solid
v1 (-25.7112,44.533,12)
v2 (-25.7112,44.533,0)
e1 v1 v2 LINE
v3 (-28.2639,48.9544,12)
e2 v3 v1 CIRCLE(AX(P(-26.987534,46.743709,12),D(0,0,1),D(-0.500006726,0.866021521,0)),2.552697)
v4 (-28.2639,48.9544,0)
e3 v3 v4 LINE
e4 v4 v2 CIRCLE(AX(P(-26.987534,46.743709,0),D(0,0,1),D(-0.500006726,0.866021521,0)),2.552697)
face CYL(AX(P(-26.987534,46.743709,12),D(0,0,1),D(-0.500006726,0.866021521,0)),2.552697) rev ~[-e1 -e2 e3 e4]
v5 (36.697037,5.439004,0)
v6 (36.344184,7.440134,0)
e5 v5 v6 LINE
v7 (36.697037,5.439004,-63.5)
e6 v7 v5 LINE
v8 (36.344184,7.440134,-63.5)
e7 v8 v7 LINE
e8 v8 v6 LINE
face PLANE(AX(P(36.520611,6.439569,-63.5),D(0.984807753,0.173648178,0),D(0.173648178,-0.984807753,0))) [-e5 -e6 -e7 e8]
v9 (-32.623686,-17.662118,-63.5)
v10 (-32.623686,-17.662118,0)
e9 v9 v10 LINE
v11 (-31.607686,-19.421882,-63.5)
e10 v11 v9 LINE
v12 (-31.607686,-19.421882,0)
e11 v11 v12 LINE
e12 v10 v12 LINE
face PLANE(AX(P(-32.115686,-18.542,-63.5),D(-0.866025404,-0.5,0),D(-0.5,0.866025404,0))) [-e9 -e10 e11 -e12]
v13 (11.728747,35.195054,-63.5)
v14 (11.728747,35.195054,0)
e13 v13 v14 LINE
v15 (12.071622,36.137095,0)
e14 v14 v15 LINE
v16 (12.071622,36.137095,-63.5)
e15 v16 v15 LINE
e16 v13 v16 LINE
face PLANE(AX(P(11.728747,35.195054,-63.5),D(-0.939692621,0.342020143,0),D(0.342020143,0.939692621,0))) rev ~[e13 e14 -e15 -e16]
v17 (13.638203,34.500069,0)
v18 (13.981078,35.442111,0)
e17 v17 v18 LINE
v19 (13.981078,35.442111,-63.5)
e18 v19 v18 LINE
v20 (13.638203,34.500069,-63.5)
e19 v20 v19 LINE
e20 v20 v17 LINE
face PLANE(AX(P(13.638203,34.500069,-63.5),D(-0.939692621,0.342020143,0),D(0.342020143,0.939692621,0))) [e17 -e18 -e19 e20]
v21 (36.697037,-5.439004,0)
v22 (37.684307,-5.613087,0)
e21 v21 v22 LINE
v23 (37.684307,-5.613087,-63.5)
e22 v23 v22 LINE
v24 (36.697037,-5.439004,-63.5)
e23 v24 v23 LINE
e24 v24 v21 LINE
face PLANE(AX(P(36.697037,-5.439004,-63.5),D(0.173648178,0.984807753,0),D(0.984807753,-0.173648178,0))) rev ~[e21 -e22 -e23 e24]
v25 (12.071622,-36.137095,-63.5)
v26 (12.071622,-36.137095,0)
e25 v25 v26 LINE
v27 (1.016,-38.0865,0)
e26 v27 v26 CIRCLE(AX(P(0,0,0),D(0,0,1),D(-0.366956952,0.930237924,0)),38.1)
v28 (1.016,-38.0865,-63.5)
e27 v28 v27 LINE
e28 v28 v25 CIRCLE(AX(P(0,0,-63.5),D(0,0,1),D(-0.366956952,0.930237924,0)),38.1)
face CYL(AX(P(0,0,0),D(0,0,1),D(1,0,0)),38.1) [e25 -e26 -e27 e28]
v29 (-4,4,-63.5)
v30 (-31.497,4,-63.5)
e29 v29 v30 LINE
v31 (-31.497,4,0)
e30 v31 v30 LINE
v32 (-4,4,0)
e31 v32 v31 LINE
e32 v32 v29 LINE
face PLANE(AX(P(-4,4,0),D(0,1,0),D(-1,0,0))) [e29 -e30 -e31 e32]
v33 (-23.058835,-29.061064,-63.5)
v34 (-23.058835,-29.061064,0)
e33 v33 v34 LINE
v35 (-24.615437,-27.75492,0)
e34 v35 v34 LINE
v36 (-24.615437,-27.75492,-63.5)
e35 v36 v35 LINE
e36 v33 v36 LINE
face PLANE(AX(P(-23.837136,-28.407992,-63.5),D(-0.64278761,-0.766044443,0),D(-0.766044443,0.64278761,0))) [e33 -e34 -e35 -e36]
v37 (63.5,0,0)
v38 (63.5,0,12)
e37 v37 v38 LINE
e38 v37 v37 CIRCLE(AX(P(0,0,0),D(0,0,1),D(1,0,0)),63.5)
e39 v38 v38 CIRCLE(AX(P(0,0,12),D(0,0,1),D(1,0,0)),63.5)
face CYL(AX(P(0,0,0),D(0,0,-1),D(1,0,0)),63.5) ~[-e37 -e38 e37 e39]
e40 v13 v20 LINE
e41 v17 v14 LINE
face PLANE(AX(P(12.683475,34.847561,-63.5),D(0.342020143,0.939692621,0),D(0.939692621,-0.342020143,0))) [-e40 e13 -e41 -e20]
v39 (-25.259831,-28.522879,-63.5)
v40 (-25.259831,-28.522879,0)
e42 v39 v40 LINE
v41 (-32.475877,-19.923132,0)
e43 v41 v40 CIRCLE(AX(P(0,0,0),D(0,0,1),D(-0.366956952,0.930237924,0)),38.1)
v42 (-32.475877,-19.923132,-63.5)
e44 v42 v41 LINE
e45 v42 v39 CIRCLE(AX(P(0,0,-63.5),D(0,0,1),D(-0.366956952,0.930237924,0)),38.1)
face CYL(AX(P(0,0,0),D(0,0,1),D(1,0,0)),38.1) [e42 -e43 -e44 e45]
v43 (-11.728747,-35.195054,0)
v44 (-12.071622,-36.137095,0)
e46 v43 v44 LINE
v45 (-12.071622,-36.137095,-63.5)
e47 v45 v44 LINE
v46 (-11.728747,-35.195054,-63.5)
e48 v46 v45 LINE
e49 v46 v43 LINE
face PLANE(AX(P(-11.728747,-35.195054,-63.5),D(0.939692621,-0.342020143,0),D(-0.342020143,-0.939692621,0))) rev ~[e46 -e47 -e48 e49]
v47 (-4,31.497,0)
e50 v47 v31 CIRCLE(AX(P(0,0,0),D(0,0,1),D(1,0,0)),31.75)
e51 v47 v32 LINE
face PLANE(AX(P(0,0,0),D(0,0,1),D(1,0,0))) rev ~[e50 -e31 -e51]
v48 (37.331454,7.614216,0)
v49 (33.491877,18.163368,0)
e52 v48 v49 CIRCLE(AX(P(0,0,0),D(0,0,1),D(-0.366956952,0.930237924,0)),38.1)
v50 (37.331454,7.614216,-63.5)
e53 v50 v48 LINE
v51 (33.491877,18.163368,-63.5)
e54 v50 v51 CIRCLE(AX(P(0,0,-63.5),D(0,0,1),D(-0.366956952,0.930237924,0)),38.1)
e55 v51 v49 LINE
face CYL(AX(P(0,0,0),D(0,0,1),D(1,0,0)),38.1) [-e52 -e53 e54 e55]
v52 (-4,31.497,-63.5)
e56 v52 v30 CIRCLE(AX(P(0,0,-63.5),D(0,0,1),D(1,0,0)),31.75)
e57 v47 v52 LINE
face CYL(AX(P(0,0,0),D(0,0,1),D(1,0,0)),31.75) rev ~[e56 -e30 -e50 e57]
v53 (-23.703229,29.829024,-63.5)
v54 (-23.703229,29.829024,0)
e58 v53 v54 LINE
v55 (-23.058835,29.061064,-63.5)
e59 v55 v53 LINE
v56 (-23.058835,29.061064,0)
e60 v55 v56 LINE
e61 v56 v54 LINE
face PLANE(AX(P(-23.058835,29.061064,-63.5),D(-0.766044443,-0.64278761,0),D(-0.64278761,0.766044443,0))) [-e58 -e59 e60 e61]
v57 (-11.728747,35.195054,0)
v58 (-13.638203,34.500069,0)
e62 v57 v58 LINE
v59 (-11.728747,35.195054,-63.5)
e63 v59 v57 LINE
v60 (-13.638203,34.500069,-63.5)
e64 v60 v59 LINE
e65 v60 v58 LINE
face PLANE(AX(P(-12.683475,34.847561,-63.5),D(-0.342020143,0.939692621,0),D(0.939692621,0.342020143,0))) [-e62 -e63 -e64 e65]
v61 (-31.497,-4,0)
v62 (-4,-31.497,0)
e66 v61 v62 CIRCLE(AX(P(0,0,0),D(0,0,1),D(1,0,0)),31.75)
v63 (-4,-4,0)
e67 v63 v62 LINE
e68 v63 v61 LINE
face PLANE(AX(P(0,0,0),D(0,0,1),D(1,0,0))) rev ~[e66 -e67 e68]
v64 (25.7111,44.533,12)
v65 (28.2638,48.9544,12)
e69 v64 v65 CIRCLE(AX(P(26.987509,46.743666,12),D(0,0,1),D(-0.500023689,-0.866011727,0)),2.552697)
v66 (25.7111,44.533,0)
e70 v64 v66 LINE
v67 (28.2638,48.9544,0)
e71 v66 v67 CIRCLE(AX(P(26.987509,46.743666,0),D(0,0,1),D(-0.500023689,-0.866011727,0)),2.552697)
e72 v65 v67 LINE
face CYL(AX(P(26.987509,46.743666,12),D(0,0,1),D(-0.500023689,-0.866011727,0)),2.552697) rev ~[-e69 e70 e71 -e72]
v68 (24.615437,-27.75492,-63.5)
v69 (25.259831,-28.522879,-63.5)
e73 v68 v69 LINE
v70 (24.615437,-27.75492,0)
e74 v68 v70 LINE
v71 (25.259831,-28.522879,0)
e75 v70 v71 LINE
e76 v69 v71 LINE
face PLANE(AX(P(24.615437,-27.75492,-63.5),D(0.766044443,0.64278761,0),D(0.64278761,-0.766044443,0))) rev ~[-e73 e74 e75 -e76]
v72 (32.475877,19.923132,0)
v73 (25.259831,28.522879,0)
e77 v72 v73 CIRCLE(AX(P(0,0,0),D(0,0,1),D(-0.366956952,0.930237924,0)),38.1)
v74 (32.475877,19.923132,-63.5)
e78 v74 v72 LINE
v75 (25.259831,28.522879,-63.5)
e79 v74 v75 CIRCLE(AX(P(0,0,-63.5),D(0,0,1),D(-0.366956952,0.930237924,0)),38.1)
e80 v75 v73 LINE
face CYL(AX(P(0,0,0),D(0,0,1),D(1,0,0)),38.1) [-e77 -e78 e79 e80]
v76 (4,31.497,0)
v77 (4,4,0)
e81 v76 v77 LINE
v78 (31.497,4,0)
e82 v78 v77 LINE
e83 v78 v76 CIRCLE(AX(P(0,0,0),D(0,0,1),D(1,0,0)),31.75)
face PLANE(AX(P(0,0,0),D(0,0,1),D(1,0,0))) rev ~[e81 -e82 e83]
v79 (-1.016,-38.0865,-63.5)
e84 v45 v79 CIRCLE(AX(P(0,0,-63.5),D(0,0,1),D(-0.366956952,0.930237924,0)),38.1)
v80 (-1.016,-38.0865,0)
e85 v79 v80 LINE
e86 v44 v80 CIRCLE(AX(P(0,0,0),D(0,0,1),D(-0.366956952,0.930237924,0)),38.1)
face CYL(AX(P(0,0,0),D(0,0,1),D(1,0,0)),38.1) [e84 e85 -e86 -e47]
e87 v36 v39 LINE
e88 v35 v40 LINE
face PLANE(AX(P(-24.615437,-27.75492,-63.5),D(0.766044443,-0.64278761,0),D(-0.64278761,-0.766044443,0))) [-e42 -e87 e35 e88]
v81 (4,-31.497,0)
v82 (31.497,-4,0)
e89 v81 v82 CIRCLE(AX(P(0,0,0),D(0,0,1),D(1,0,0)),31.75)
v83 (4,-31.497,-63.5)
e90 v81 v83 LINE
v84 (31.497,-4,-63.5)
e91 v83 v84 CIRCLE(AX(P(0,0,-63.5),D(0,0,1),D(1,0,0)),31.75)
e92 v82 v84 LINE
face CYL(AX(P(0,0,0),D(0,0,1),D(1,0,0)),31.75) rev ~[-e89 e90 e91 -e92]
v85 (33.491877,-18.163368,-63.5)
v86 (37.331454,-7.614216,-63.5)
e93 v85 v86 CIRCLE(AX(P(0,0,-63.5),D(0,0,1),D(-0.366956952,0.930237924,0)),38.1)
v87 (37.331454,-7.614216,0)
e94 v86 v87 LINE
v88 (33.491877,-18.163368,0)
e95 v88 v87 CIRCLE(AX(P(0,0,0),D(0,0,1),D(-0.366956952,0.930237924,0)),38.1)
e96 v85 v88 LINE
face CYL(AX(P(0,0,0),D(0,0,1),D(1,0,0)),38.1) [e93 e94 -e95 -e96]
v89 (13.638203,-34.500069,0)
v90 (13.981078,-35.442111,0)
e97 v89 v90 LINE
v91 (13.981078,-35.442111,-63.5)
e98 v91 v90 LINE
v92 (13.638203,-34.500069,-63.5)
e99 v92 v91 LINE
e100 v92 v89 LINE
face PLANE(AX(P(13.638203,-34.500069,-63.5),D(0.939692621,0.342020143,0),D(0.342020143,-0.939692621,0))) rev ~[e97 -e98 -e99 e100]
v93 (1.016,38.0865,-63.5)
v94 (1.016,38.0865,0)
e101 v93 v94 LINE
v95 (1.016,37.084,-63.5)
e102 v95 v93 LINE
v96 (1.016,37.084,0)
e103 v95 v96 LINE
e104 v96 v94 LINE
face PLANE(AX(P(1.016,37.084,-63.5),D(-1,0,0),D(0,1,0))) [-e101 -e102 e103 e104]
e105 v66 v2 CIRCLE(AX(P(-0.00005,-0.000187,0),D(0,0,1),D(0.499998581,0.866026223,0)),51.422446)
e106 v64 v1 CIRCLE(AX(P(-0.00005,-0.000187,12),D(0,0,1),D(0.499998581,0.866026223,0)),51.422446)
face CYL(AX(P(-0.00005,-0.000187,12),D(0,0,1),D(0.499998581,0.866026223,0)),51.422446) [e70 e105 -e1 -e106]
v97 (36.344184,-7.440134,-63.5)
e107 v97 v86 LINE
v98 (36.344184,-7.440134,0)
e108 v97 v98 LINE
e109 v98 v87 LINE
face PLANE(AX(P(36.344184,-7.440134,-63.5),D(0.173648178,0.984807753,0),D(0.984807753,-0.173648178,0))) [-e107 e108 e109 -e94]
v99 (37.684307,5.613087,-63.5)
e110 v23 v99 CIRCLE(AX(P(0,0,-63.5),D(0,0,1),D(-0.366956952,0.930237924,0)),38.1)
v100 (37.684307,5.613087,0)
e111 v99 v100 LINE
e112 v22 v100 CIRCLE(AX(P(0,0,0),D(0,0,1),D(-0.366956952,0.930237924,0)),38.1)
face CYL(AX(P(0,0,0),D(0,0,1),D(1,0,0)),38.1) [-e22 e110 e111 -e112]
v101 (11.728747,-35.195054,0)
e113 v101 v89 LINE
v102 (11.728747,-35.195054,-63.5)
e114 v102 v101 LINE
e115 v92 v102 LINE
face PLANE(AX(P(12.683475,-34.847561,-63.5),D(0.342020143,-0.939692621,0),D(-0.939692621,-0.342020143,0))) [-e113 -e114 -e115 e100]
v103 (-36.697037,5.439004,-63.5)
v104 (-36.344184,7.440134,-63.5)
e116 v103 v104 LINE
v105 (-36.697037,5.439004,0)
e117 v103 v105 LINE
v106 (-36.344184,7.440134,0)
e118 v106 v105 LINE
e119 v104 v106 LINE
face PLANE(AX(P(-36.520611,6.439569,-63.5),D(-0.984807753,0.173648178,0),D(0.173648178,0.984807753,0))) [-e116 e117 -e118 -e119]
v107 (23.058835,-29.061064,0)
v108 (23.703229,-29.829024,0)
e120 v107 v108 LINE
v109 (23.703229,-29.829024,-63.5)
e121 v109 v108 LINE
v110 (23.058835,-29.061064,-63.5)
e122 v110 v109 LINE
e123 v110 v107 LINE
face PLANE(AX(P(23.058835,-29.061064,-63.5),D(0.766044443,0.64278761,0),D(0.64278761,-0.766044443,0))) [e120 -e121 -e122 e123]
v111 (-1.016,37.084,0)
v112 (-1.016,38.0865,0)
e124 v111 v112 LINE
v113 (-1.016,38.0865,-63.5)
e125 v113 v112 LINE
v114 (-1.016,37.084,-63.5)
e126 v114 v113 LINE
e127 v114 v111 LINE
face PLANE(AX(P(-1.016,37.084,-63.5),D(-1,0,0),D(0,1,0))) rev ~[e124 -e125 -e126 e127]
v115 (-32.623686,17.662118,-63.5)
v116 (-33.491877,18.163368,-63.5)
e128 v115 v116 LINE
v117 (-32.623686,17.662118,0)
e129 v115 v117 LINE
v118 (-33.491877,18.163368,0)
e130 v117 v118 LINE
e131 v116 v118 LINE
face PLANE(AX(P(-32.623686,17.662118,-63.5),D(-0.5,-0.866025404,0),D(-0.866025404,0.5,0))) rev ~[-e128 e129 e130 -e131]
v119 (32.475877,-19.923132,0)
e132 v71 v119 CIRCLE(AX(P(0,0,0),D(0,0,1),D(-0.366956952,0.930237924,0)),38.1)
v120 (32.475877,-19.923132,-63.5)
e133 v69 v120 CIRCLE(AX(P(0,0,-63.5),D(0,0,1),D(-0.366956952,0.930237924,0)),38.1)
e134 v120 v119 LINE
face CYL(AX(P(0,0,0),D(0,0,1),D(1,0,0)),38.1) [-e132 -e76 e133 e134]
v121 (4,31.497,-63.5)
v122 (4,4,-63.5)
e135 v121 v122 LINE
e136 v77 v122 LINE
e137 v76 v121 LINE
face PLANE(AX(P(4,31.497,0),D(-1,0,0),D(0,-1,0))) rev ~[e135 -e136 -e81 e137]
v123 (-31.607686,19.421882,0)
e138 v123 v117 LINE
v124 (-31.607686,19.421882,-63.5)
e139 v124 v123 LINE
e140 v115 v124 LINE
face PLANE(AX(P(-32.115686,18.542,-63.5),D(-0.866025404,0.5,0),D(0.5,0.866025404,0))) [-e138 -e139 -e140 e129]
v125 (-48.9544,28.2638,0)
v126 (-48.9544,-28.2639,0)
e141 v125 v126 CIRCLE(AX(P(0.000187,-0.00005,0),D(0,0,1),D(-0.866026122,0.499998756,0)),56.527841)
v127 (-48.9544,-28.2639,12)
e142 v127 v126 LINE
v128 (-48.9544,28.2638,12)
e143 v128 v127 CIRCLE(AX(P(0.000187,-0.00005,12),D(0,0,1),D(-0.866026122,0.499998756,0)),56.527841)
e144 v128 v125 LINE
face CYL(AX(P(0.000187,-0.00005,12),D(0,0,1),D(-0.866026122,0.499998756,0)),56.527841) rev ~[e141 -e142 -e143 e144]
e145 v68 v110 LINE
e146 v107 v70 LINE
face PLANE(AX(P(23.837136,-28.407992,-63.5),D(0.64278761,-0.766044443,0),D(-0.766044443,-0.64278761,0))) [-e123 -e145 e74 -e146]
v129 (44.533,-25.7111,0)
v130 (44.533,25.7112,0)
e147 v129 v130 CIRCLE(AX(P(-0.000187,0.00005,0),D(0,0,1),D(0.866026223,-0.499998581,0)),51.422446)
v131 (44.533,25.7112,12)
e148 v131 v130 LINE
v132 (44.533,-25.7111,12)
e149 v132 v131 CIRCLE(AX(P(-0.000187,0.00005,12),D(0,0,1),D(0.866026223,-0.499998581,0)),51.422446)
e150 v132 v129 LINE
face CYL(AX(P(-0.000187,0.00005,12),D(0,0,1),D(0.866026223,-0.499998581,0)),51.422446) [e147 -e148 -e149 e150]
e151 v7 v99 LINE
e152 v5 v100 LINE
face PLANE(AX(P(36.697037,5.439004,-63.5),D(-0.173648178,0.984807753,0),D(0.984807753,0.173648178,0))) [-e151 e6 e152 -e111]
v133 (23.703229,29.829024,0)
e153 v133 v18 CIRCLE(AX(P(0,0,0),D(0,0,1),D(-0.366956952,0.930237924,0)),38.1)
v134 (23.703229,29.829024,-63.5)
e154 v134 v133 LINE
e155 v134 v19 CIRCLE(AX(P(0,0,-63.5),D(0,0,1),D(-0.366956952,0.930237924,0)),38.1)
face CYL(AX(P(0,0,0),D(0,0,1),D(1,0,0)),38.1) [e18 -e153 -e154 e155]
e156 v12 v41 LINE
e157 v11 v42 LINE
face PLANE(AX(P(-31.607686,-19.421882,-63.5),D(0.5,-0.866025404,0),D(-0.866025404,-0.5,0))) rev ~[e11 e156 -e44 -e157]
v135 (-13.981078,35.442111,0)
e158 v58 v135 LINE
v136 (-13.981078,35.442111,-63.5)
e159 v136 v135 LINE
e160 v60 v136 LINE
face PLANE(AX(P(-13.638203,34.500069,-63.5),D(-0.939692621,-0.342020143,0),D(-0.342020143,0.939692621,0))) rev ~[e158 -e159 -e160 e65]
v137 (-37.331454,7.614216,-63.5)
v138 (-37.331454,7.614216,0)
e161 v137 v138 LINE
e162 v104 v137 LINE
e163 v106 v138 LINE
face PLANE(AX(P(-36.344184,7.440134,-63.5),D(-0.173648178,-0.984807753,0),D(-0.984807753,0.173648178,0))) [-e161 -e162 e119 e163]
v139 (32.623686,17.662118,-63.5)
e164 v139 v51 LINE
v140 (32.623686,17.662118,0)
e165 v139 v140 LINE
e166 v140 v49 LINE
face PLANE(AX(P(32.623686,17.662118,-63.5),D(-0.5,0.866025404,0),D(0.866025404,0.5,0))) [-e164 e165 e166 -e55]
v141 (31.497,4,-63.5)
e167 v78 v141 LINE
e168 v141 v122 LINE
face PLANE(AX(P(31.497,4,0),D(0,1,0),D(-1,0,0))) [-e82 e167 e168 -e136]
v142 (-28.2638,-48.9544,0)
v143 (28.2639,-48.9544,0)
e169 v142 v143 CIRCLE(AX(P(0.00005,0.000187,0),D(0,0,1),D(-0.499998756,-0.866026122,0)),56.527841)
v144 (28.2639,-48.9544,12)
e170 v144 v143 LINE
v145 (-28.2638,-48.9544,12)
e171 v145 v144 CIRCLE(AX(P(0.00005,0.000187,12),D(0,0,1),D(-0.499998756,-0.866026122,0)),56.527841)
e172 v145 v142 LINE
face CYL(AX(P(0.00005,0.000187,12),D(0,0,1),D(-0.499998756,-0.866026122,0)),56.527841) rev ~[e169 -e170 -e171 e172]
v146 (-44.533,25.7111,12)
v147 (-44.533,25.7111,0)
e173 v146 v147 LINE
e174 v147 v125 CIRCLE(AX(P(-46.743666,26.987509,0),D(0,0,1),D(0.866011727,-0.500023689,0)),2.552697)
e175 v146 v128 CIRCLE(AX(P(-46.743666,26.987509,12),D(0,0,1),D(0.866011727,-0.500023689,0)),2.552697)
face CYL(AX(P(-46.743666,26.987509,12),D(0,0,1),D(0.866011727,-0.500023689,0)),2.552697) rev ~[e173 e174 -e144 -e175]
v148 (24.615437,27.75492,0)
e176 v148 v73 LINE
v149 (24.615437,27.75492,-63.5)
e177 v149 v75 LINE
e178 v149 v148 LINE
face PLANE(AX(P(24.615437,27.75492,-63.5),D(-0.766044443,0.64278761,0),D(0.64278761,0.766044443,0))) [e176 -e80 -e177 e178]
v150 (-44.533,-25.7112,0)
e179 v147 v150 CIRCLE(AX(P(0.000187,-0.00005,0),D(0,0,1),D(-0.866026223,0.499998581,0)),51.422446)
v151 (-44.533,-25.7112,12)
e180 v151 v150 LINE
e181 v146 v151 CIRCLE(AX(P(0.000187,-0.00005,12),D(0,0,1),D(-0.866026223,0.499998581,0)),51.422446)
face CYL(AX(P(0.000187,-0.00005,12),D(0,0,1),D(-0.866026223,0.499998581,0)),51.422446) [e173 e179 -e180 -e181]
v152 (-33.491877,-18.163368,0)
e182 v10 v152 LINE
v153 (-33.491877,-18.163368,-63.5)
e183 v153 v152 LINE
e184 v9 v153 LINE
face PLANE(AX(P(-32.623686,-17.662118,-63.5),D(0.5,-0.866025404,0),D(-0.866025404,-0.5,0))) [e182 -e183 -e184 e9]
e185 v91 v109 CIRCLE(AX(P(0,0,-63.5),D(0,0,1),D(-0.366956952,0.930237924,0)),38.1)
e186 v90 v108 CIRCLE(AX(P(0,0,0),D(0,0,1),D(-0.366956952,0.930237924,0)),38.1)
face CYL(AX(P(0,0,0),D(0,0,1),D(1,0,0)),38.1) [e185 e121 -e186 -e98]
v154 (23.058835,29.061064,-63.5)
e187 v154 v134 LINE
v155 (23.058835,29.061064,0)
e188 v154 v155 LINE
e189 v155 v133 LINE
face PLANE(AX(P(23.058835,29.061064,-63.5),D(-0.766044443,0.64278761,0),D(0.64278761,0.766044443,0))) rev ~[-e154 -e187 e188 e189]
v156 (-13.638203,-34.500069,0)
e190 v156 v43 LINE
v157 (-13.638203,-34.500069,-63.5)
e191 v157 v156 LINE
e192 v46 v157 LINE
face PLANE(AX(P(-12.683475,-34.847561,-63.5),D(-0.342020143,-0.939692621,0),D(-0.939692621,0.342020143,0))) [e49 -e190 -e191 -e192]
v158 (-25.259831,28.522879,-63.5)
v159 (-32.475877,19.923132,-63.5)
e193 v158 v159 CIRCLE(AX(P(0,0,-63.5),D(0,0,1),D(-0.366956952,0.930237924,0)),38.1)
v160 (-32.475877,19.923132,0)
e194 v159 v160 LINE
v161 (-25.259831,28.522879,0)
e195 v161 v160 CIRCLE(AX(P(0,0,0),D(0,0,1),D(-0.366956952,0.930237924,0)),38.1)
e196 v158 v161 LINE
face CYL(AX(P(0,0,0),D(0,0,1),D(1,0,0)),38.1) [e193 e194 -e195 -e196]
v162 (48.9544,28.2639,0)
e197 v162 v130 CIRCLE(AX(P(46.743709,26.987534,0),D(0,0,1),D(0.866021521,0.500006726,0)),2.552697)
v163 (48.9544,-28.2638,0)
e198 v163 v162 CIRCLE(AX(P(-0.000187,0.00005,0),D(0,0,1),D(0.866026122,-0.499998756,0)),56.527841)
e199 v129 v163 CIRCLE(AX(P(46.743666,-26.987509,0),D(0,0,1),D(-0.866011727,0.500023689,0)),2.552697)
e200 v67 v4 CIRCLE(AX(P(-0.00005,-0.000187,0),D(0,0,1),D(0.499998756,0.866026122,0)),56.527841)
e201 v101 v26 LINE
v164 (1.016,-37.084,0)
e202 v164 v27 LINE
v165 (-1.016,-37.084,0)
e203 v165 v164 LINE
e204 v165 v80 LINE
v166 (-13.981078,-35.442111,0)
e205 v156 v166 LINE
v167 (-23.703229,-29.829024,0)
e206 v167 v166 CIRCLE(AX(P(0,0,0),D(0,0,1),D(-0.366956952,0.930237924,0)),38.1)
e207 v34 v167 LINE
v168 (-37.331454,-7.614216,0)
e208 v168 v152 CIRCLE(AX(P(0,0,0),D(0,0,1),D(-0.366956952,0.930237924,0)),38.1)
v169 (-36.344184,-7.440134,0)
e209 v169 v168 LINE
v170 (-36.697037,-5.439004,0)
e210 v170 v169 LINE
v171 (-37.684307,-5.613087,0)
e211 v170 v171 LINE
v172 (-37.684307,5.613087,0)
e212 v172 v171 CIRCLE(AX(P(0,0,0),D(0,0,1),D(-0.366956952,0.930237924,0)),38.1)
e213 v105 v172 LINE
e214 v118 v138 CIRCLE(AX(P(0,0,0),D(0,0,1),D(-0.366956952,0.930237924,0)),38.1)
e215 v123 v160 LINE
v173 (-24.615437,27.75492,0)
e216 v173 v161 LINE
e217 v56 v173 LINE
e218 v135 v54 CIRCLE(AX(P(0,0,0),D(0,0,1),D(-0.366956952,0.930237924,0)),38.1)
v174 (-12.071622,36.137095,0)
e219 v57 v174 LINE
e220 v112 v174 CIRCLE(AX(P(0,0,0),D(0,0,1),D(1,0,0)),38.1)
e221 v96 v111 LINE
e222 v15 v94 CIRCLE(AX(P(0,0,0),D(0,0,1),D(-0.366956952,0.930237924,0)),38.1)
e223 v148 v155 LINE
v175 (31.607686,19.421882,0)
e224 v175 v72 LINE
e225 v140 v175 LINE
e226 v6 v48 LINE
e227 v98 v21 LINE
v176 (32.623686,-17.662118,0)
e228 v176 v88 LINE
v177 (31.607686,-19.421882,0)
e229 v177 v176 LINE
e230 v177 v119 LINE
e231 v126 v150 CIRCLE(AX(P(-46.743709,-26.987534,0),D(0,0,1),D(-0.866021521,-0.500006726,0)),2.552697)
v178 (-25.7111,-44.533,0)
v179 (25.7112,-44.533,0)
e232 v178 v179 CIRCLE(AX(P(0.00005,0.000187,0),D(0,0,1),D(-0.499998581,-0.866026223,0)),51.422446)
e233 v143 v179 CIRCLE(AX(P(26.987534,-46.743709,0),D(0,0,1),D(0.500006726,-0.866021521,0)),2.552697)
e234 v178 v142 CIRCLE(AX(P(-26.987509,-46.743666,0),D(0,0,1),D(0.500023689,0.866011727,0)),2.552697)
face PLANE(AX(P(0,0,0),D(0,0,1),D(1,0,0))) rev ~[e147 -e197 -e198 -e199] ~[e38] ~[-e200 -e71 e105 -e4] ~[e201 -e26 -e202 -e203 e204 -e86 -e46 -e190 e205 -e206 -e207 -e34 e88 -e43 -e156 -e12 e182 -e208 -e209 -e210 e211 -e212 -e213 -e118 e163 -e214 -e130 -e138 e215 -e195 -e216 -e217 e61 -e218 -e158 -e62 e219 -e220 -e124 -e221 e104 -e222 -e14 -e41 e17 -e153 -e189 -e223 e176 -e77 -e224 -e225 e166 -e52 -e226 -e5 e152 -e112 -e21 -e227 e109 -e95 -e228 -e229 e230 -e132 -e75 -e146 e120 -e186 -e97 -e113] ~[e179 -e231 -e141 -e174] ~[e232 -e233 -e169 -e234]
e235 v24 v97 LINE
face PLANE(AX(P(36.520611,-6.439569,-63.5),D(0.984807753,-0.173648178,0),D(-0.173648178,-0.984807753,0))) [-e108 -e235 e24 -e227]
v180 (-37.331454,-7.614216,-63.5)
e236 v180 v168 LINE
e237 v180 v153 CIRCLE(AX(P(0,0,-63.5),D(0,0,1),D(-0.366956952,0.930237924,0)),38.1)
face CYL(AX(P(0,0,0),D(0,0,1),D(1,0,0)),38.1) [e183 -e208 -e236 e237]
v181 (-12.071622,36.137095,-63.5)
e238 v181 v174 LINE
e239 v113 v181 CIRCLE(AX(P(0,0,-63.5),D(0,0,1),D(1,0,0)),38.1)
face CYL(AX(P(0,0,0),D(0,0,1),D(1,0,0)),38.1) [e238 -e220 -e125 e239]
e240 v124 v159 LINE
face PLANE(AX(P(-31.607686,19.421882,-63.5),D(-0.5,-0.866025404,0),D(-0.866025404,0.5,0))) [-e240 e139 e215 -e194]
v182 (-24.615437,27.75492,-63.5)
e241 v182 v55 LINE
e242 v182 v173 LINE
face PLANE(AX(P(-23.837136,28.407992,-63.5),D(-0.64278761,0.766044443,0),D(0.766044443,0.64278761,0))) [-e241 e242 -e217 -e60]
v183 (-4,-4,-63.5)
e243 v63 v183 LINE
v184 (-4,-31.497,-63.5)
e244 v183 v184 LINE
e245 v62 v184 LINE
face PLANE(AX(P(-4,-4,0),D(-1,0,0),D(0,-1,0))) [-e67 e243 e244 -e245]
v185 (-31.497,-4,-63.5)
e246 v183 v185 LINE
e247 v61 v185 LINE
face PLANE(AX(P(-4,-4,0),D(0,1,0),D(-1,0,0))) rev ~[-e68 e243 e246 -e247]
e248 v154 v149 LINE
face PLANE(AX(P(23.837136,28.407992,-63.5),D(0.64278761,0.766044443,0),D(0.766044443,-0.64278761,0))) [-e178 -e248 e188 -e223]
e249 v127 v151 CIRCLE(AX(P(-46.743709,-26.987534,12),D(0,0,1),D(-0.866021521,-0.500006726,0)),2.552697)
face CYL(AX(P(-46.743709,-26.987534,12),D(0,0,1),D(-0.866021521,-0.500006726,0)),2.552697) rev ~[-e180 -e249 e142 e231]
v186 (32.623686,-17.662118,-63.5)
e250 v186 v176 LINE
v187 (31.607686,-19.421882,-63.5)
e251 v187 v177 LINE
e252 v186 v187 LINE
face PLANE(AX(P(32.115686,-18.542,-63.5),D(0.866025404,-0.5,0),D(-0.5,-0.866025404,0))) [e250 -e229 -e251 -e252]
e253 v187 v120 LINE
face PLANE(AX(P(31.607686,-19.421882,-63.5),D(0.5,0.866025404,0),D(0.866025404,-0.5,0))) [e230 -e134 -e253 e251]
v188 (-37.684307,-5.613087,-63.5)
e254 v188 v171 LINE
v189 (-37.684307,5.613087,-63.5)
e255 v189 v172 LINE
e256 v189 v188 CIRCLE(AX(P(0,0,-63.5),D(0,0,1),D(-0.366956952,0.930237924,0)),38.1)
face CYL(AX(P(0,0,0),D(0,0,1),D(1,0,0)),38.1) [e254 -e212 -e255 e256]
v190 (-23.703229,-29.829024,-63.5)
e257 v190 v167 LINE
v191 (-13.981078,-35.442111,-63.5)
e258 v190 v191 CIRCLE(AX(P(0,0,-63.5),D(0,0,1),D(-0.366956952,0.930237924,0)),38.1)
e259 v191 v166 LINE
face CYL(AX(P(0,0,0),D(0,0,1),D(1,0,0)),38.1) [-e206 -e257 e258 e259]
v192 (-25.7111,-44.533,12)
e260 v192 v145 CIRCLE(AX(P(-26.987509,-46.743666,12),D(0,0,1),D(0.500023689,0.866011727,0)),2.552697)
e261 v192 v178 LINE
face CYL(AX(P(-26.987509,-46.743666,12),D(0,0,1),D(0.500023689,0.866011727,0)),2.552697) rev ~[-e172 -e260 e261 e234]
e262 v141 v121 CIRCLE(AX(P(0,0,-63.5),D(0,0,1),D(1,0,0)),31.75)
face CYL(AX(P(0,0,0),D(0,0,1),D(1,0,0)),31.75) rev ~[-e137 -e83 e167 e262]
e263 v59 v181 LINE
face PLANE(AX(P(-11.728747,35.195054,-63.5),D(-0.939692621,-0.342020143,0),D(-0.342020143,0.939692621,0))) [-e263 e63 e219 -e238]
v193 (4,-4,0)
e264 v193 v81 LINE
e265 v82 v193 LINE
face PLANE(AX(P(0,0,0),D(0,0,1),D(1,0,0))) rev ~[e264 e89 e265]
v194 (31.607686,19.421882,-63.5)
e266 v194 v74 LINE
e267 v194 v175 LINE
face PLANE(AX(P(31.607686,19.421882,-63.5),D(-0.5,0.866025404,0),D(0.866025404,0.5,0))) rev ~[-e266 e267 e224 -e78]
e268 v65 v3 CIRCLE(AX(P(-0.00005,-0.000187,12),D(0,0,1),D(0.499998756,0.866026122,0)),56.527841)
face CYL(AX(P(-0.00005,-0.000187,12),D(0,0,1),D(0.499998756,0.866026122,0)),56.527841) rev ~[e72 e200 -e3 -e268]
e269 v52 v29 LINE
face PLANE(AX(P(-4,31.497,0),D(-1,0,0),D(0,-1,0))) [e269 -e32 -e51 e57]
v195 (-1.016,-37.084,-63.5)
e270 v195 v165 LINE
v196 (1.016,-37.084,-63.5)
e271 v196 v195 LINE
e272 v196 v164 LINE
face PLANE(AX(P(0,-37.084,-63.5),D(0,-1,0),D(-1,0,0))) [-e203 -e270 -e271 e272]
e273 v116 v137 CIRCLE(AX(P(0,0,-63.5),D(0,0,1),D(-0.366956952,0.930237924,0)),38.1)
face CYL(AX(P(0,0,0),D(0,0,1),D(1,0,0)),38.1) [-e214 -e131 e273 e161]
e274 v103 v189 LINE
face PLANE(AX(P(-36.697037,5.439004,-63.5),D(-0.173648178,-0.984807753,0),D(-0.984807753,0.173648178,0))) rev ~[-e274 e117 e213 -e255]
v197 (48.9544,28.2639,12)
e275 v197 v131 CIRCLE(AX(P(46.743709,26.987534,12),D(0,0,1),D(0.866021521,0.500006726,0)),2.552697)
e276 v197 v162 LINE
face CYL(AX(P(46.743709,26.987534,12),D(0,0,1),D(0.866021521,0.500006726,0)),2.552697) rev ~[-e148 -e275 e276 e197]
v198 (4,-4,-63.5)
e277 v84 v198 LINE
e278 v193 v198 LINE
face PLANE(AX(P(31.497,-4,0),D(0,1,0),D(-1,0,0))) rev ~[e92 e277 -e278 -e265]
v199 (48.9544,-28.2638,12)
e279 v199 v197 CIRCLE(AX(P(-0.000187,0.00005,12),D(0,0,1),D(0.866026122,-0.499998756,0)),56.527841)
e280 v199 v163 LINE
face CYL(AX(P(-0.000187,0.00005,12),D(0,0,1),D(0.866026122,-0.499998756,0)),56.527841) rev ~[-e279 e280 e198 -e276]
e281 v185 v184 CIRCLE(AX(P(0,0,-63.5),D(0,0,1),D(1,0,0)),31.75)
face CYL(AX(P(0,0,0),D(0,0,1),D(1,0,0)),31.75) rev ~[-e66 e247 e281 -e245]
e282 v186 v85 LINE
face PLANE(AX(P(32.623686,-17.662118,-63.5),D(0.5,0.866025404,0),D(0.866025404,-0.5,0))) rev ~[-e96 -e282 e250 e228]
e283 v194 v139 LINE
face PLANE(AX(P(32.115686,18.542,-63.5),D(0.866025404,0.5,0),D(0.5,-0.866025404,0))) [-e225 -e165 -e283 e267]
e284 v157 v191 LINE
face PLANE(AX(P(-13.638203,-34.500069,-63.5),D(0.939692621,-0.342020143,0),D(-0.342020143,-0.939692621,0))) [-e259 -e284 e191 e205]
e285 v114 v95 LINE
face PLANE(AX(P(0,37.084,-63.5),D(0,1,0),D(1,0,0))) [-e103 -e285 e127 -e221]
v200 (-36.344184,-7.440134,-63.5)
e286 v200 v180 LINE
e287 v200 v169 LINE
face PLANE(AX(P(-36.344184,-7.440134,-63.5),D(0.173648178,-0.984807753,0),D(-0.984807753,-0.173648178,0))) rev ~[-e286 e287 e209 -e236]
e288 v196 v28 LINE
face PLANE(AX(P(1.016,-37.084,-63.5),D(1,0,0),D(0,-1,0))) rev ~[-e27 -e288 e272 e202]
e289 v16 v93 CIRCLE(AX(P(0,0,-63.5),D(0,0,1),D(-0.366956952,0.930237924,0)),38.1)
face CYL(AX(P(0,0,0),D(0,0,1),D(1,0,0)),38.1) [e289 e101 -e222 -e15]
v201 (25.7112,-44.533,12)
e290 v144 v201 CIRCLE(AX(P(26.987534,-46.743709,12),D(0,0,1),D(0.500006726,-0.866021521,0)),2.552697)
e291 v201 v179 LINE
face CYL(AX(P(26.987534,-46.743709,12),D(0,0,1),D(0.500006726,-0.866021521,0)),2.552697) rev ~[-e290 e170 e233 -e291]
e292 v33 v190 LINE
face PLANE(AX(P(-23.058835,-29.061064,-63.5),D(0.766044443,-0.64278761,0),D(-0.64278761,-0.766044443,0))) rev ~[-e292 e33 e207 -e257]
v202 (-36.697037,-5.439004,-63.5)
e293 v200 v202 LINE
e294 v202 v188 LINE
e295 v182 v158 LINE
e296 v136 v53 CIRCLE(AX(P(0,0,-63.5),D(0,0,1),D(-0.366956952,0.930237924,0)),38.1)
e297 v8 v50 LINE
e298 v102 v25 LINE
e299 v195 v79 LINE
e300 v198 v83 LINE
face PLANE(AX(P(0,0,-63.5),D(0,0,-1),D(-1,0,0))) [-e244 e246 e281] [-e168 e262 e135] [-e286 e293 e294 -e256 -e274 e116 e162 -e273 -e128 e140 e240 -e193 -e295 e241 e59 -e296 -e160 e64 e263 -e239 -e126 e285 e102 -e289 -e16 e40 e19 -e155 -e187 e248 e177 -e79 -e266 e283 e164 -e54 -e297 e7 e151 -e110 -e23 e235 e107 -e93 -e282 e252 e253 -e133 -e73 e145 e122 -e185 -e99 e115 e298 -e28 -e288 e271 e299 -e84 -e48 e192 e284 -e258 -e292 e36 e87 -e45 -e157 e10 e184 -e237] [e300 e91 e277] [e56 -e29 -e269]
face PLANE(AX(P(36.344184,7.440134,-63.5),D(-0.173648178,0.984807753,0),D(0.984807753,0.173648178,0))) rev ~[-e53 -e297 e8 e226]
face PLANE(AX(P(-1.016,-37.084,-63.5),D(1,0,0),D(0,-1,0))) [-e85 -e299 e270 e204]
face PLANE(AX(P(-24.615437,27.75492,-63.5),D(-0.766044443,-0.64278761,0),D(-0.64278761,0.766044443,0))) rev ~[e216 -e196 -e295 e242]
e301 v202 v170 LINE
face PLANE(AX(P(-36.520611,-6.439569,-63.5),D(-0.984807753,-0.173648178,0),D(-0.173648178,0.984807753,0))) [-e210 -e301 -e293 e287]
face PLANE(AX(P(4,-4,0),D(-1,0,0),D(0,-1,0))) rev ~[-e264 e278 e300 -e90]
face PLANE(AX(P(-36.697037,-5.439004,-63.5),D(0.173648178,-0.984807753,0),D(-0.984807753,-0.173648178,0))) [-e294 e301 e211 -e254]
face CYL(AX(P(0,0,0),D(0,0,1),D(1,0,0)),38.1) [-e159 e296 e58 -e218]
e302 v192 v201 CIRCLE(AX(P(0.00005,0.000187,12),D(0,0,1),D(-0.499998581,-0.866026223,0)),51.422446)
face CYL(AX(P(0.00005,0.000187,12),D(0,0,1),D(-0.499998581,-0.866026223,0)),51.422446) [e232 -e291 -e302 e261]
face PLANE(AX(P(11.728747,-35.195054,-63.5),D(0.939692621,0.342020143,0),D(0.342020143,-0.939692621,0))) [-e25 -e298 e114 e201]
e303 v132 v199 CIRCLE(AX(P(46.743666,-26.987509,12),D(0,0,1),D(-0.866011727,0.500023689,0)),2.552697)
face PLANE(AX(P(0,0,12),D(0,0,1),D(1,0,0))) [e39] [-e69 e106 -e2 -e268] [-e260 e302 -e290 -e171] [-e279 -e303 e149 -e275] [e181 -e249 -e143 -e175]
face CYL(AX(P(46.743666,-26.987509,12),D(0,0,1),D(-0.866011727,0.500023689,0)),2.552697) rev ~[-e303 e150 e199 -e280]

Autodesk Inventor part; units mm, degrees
ref_plane "YZ Plane" through (0, 0, 0) normal (1, 0, 0) x (0, 1, 0)
ref_plane "XZ Plane" through (0, 0, 0) normal (0, 1, 0) x (-1, 0, 0)
ref_plane "XY Plane" through (0, 0, 0) normal (0, 0, 1) x (1, 0, 0)
sketch "Sketch1" plane through (0, 0, 0) normal (0, 0, 1) x (1, 0, 0)
  circle A0 centre (0, 0) radius 38.1
  circle A1 centre (0, 0) radius 63.5
  circle A2 centre (0, 0) radius 31.75
  dimension "d1" = 76.2
  dimension "d7" = 6.35
  dimension "d45" = 127
extrude "Extrusion2" add sketch "Sketch1" along normal blind 12 contours A0 | A1 | A2
extrude "Extrusion3" add sketch "Sketch1" against normal blind 63.5 contours A0
sketch "Sketch6" plane through (0, 0, 12) normal (0, 0, 1) x (1, 0, 0)
  arc A0 (26.9875, 46.7437) -> (-26.9875, 46.7437) centre (0, 0) ccw construction
  arc A1 (28.2638, 48.9544) -> (-28.2639, 48.9544) centre (0, 0) ccw
  arc A2 (25.7111, 44.533) -> (-25.7112, 44.533) centre (0, 0) ccw
  arc A3 (25.7111, 44.533) -> (28.2638, 48.9544) centre (26.9875, 46.7437) ccw
  arc A4 (-28.2639, 48.9544) -> (-25.7112, 44.533) centre (-26.9875, 46.7437) ccw
  line L0 (0, 0) -> (26.9875, 46.7437) construction
  line L1 (0, 0) -> (53.975, 0) construction
  line L2 (0, 0) -> (-26.9875, 46.7437) construction
  dimension "d26" = 53.975
  dimension "d27" = 60
  dimension "d28" = 60
  dimension "d29" = 5.1054
extrude "Extrusion7" cut sketch "Sketch6" against normal through all
pattern_circular "Circular Pattern1" count 4 over 360 about axis through (0, 0, -10) along (0, 0, 1) of "Extrusion7"
sketch "Sketch8" plane through (0, 0, -63.5) normal (0, 0, -1) x (-1, 0, 0)
  circle A0 centre (0, 0) radius 38.1 projected
  arc A1 (0, 38.1) -> (-1.016, 38.0865) centre (0, 0) ccw
  line L0 (0, 0) -> (0, 38.1) construction
  line L1 (0, 38.1) -> (0, 37.084)
  line L2 (0, 37.084) -> (-1.016, 37.084)
  line L3 (-1.016, 37.084) -> (-1.016, 38.0865)
  circle A2 centre (0, 0) radius 38.1 projected
  circle A3 centre (0, 0) radius 38.1
  line L4 (0, 37.084) -> (1.016, 37.084)
  line L5 (1.016, 37.084) -> (1.016, 38.0865)
  dimension "d35" = 1.016
  dimension "d36" = 1.016
extrude "Extrusion9" cut sketch "Sketch8" against normal up to surface (63.5 mm away) contours L5 L4 L1 A0 | A0 L1 L2 L3
sketch "Sketch3" plane through (0, 0, 12) normal (0, 0, 1) x (1, 0, 0)
  ellipse E0 centre (0, 0) end of major axis (57.15, 0) minor radius 60.8178
  circle A0 centre (0, 0) radius 63.5 projected
  circle A1 centre (0, 0) radius 63.5
  point P0 (-57.15, 0)
  point P1 (57.15, 0)
  dimension "d11" = 60.8178
  dimension "d12" = 57.15
pattern_circular "Circular Pattern2" count 18 over 360 about axis through (0, 0, -10) along (0, 0, 1) of "Extrusion9"
sketch "Sketch9" plane through (0, 0, 0) normal (0, 0, -1) x (-1, 0, 0)
  point P0 (0, 0)
sketch "Sketch10" plane through (0, 0, 0) normal (0, 0, -1) x (-1, 0, 0)
  circle A0 centre (0, 0) radius 31.75 projected
  arc A1 (-31.497, 4) -> (-31.497, -4) centre (0, 0) ccw
  arc A2 (-4, -31.497) -> (4, -31.497) centre (0, 0) ccw
  arc A3 (31.497, -4) -> (31.497, 4) centre (0, 0) ccw
  arc A4 (4, 31.497) -> (-4, 31.497) centre (0, 0) ccw
  line L0 (-31.497, 4) -> (-4, 4)
  line L1 (4, 4) -> (31.497, 4)
  line L2 (-4, 31.497) -> (-4, 4)
  line L3 (-4, -4) -> (-4, -31.497)
  line L4 (4, 31.497) -> (4, 4)
  line L5 (4, -4) -> (4, -31.497)
  line L6 (-31.497, -4) -> (-4, -4)
  line L7 (4, -4) -> (31.497, -4)
extrude "Extrusion10" add sketch "Sketch10" along normal up to surface (63.5 mm away) contours A0 L7 L5 L3 L6 L0 L2 L4 L1
equation "\"d1\" = insideDiameterforPipe"
equation "\"d45\" = outsideDiameter"
equation "\"d8\" = insertDepthIntoPipe"
equation "\"d26\" = slotRadius"
equation "\"d28\" = totalAngleForSlot"
equation "\"d29\" = widthOfSlot"
equation "\"d11\" = 0.5 * elipseMajorDiameter"
equation "\"d12\" = 0.5 * elipseMinorDiameter"
equation "\"insideDiameterforPipe\" = 76.2"
equation "\"outsideDiameter\" = 127"
equation "\"elipseMajorDiameter\" = 121.63552"
equation "\"elipseMinorDiameter\" = 114.3"
equation "\"widthOfSlot\" = 5.1054"
equation "\"totalAngleForSlot\" = 60deg"
equation "\"slotDiameter\" = 0.5 * pipeExteriorDiameter + 0.5 * outsideDiameter"
equation "\"slotRadius\" = 0.5 * slotDiameter"
equation "\"pipeExteriorDiameter\" = 88.9"
equation "\"insertDepthIntoPipe\" = 63.5"
properties part number "3inPvcCap" material "PC/ABS Plastic"
